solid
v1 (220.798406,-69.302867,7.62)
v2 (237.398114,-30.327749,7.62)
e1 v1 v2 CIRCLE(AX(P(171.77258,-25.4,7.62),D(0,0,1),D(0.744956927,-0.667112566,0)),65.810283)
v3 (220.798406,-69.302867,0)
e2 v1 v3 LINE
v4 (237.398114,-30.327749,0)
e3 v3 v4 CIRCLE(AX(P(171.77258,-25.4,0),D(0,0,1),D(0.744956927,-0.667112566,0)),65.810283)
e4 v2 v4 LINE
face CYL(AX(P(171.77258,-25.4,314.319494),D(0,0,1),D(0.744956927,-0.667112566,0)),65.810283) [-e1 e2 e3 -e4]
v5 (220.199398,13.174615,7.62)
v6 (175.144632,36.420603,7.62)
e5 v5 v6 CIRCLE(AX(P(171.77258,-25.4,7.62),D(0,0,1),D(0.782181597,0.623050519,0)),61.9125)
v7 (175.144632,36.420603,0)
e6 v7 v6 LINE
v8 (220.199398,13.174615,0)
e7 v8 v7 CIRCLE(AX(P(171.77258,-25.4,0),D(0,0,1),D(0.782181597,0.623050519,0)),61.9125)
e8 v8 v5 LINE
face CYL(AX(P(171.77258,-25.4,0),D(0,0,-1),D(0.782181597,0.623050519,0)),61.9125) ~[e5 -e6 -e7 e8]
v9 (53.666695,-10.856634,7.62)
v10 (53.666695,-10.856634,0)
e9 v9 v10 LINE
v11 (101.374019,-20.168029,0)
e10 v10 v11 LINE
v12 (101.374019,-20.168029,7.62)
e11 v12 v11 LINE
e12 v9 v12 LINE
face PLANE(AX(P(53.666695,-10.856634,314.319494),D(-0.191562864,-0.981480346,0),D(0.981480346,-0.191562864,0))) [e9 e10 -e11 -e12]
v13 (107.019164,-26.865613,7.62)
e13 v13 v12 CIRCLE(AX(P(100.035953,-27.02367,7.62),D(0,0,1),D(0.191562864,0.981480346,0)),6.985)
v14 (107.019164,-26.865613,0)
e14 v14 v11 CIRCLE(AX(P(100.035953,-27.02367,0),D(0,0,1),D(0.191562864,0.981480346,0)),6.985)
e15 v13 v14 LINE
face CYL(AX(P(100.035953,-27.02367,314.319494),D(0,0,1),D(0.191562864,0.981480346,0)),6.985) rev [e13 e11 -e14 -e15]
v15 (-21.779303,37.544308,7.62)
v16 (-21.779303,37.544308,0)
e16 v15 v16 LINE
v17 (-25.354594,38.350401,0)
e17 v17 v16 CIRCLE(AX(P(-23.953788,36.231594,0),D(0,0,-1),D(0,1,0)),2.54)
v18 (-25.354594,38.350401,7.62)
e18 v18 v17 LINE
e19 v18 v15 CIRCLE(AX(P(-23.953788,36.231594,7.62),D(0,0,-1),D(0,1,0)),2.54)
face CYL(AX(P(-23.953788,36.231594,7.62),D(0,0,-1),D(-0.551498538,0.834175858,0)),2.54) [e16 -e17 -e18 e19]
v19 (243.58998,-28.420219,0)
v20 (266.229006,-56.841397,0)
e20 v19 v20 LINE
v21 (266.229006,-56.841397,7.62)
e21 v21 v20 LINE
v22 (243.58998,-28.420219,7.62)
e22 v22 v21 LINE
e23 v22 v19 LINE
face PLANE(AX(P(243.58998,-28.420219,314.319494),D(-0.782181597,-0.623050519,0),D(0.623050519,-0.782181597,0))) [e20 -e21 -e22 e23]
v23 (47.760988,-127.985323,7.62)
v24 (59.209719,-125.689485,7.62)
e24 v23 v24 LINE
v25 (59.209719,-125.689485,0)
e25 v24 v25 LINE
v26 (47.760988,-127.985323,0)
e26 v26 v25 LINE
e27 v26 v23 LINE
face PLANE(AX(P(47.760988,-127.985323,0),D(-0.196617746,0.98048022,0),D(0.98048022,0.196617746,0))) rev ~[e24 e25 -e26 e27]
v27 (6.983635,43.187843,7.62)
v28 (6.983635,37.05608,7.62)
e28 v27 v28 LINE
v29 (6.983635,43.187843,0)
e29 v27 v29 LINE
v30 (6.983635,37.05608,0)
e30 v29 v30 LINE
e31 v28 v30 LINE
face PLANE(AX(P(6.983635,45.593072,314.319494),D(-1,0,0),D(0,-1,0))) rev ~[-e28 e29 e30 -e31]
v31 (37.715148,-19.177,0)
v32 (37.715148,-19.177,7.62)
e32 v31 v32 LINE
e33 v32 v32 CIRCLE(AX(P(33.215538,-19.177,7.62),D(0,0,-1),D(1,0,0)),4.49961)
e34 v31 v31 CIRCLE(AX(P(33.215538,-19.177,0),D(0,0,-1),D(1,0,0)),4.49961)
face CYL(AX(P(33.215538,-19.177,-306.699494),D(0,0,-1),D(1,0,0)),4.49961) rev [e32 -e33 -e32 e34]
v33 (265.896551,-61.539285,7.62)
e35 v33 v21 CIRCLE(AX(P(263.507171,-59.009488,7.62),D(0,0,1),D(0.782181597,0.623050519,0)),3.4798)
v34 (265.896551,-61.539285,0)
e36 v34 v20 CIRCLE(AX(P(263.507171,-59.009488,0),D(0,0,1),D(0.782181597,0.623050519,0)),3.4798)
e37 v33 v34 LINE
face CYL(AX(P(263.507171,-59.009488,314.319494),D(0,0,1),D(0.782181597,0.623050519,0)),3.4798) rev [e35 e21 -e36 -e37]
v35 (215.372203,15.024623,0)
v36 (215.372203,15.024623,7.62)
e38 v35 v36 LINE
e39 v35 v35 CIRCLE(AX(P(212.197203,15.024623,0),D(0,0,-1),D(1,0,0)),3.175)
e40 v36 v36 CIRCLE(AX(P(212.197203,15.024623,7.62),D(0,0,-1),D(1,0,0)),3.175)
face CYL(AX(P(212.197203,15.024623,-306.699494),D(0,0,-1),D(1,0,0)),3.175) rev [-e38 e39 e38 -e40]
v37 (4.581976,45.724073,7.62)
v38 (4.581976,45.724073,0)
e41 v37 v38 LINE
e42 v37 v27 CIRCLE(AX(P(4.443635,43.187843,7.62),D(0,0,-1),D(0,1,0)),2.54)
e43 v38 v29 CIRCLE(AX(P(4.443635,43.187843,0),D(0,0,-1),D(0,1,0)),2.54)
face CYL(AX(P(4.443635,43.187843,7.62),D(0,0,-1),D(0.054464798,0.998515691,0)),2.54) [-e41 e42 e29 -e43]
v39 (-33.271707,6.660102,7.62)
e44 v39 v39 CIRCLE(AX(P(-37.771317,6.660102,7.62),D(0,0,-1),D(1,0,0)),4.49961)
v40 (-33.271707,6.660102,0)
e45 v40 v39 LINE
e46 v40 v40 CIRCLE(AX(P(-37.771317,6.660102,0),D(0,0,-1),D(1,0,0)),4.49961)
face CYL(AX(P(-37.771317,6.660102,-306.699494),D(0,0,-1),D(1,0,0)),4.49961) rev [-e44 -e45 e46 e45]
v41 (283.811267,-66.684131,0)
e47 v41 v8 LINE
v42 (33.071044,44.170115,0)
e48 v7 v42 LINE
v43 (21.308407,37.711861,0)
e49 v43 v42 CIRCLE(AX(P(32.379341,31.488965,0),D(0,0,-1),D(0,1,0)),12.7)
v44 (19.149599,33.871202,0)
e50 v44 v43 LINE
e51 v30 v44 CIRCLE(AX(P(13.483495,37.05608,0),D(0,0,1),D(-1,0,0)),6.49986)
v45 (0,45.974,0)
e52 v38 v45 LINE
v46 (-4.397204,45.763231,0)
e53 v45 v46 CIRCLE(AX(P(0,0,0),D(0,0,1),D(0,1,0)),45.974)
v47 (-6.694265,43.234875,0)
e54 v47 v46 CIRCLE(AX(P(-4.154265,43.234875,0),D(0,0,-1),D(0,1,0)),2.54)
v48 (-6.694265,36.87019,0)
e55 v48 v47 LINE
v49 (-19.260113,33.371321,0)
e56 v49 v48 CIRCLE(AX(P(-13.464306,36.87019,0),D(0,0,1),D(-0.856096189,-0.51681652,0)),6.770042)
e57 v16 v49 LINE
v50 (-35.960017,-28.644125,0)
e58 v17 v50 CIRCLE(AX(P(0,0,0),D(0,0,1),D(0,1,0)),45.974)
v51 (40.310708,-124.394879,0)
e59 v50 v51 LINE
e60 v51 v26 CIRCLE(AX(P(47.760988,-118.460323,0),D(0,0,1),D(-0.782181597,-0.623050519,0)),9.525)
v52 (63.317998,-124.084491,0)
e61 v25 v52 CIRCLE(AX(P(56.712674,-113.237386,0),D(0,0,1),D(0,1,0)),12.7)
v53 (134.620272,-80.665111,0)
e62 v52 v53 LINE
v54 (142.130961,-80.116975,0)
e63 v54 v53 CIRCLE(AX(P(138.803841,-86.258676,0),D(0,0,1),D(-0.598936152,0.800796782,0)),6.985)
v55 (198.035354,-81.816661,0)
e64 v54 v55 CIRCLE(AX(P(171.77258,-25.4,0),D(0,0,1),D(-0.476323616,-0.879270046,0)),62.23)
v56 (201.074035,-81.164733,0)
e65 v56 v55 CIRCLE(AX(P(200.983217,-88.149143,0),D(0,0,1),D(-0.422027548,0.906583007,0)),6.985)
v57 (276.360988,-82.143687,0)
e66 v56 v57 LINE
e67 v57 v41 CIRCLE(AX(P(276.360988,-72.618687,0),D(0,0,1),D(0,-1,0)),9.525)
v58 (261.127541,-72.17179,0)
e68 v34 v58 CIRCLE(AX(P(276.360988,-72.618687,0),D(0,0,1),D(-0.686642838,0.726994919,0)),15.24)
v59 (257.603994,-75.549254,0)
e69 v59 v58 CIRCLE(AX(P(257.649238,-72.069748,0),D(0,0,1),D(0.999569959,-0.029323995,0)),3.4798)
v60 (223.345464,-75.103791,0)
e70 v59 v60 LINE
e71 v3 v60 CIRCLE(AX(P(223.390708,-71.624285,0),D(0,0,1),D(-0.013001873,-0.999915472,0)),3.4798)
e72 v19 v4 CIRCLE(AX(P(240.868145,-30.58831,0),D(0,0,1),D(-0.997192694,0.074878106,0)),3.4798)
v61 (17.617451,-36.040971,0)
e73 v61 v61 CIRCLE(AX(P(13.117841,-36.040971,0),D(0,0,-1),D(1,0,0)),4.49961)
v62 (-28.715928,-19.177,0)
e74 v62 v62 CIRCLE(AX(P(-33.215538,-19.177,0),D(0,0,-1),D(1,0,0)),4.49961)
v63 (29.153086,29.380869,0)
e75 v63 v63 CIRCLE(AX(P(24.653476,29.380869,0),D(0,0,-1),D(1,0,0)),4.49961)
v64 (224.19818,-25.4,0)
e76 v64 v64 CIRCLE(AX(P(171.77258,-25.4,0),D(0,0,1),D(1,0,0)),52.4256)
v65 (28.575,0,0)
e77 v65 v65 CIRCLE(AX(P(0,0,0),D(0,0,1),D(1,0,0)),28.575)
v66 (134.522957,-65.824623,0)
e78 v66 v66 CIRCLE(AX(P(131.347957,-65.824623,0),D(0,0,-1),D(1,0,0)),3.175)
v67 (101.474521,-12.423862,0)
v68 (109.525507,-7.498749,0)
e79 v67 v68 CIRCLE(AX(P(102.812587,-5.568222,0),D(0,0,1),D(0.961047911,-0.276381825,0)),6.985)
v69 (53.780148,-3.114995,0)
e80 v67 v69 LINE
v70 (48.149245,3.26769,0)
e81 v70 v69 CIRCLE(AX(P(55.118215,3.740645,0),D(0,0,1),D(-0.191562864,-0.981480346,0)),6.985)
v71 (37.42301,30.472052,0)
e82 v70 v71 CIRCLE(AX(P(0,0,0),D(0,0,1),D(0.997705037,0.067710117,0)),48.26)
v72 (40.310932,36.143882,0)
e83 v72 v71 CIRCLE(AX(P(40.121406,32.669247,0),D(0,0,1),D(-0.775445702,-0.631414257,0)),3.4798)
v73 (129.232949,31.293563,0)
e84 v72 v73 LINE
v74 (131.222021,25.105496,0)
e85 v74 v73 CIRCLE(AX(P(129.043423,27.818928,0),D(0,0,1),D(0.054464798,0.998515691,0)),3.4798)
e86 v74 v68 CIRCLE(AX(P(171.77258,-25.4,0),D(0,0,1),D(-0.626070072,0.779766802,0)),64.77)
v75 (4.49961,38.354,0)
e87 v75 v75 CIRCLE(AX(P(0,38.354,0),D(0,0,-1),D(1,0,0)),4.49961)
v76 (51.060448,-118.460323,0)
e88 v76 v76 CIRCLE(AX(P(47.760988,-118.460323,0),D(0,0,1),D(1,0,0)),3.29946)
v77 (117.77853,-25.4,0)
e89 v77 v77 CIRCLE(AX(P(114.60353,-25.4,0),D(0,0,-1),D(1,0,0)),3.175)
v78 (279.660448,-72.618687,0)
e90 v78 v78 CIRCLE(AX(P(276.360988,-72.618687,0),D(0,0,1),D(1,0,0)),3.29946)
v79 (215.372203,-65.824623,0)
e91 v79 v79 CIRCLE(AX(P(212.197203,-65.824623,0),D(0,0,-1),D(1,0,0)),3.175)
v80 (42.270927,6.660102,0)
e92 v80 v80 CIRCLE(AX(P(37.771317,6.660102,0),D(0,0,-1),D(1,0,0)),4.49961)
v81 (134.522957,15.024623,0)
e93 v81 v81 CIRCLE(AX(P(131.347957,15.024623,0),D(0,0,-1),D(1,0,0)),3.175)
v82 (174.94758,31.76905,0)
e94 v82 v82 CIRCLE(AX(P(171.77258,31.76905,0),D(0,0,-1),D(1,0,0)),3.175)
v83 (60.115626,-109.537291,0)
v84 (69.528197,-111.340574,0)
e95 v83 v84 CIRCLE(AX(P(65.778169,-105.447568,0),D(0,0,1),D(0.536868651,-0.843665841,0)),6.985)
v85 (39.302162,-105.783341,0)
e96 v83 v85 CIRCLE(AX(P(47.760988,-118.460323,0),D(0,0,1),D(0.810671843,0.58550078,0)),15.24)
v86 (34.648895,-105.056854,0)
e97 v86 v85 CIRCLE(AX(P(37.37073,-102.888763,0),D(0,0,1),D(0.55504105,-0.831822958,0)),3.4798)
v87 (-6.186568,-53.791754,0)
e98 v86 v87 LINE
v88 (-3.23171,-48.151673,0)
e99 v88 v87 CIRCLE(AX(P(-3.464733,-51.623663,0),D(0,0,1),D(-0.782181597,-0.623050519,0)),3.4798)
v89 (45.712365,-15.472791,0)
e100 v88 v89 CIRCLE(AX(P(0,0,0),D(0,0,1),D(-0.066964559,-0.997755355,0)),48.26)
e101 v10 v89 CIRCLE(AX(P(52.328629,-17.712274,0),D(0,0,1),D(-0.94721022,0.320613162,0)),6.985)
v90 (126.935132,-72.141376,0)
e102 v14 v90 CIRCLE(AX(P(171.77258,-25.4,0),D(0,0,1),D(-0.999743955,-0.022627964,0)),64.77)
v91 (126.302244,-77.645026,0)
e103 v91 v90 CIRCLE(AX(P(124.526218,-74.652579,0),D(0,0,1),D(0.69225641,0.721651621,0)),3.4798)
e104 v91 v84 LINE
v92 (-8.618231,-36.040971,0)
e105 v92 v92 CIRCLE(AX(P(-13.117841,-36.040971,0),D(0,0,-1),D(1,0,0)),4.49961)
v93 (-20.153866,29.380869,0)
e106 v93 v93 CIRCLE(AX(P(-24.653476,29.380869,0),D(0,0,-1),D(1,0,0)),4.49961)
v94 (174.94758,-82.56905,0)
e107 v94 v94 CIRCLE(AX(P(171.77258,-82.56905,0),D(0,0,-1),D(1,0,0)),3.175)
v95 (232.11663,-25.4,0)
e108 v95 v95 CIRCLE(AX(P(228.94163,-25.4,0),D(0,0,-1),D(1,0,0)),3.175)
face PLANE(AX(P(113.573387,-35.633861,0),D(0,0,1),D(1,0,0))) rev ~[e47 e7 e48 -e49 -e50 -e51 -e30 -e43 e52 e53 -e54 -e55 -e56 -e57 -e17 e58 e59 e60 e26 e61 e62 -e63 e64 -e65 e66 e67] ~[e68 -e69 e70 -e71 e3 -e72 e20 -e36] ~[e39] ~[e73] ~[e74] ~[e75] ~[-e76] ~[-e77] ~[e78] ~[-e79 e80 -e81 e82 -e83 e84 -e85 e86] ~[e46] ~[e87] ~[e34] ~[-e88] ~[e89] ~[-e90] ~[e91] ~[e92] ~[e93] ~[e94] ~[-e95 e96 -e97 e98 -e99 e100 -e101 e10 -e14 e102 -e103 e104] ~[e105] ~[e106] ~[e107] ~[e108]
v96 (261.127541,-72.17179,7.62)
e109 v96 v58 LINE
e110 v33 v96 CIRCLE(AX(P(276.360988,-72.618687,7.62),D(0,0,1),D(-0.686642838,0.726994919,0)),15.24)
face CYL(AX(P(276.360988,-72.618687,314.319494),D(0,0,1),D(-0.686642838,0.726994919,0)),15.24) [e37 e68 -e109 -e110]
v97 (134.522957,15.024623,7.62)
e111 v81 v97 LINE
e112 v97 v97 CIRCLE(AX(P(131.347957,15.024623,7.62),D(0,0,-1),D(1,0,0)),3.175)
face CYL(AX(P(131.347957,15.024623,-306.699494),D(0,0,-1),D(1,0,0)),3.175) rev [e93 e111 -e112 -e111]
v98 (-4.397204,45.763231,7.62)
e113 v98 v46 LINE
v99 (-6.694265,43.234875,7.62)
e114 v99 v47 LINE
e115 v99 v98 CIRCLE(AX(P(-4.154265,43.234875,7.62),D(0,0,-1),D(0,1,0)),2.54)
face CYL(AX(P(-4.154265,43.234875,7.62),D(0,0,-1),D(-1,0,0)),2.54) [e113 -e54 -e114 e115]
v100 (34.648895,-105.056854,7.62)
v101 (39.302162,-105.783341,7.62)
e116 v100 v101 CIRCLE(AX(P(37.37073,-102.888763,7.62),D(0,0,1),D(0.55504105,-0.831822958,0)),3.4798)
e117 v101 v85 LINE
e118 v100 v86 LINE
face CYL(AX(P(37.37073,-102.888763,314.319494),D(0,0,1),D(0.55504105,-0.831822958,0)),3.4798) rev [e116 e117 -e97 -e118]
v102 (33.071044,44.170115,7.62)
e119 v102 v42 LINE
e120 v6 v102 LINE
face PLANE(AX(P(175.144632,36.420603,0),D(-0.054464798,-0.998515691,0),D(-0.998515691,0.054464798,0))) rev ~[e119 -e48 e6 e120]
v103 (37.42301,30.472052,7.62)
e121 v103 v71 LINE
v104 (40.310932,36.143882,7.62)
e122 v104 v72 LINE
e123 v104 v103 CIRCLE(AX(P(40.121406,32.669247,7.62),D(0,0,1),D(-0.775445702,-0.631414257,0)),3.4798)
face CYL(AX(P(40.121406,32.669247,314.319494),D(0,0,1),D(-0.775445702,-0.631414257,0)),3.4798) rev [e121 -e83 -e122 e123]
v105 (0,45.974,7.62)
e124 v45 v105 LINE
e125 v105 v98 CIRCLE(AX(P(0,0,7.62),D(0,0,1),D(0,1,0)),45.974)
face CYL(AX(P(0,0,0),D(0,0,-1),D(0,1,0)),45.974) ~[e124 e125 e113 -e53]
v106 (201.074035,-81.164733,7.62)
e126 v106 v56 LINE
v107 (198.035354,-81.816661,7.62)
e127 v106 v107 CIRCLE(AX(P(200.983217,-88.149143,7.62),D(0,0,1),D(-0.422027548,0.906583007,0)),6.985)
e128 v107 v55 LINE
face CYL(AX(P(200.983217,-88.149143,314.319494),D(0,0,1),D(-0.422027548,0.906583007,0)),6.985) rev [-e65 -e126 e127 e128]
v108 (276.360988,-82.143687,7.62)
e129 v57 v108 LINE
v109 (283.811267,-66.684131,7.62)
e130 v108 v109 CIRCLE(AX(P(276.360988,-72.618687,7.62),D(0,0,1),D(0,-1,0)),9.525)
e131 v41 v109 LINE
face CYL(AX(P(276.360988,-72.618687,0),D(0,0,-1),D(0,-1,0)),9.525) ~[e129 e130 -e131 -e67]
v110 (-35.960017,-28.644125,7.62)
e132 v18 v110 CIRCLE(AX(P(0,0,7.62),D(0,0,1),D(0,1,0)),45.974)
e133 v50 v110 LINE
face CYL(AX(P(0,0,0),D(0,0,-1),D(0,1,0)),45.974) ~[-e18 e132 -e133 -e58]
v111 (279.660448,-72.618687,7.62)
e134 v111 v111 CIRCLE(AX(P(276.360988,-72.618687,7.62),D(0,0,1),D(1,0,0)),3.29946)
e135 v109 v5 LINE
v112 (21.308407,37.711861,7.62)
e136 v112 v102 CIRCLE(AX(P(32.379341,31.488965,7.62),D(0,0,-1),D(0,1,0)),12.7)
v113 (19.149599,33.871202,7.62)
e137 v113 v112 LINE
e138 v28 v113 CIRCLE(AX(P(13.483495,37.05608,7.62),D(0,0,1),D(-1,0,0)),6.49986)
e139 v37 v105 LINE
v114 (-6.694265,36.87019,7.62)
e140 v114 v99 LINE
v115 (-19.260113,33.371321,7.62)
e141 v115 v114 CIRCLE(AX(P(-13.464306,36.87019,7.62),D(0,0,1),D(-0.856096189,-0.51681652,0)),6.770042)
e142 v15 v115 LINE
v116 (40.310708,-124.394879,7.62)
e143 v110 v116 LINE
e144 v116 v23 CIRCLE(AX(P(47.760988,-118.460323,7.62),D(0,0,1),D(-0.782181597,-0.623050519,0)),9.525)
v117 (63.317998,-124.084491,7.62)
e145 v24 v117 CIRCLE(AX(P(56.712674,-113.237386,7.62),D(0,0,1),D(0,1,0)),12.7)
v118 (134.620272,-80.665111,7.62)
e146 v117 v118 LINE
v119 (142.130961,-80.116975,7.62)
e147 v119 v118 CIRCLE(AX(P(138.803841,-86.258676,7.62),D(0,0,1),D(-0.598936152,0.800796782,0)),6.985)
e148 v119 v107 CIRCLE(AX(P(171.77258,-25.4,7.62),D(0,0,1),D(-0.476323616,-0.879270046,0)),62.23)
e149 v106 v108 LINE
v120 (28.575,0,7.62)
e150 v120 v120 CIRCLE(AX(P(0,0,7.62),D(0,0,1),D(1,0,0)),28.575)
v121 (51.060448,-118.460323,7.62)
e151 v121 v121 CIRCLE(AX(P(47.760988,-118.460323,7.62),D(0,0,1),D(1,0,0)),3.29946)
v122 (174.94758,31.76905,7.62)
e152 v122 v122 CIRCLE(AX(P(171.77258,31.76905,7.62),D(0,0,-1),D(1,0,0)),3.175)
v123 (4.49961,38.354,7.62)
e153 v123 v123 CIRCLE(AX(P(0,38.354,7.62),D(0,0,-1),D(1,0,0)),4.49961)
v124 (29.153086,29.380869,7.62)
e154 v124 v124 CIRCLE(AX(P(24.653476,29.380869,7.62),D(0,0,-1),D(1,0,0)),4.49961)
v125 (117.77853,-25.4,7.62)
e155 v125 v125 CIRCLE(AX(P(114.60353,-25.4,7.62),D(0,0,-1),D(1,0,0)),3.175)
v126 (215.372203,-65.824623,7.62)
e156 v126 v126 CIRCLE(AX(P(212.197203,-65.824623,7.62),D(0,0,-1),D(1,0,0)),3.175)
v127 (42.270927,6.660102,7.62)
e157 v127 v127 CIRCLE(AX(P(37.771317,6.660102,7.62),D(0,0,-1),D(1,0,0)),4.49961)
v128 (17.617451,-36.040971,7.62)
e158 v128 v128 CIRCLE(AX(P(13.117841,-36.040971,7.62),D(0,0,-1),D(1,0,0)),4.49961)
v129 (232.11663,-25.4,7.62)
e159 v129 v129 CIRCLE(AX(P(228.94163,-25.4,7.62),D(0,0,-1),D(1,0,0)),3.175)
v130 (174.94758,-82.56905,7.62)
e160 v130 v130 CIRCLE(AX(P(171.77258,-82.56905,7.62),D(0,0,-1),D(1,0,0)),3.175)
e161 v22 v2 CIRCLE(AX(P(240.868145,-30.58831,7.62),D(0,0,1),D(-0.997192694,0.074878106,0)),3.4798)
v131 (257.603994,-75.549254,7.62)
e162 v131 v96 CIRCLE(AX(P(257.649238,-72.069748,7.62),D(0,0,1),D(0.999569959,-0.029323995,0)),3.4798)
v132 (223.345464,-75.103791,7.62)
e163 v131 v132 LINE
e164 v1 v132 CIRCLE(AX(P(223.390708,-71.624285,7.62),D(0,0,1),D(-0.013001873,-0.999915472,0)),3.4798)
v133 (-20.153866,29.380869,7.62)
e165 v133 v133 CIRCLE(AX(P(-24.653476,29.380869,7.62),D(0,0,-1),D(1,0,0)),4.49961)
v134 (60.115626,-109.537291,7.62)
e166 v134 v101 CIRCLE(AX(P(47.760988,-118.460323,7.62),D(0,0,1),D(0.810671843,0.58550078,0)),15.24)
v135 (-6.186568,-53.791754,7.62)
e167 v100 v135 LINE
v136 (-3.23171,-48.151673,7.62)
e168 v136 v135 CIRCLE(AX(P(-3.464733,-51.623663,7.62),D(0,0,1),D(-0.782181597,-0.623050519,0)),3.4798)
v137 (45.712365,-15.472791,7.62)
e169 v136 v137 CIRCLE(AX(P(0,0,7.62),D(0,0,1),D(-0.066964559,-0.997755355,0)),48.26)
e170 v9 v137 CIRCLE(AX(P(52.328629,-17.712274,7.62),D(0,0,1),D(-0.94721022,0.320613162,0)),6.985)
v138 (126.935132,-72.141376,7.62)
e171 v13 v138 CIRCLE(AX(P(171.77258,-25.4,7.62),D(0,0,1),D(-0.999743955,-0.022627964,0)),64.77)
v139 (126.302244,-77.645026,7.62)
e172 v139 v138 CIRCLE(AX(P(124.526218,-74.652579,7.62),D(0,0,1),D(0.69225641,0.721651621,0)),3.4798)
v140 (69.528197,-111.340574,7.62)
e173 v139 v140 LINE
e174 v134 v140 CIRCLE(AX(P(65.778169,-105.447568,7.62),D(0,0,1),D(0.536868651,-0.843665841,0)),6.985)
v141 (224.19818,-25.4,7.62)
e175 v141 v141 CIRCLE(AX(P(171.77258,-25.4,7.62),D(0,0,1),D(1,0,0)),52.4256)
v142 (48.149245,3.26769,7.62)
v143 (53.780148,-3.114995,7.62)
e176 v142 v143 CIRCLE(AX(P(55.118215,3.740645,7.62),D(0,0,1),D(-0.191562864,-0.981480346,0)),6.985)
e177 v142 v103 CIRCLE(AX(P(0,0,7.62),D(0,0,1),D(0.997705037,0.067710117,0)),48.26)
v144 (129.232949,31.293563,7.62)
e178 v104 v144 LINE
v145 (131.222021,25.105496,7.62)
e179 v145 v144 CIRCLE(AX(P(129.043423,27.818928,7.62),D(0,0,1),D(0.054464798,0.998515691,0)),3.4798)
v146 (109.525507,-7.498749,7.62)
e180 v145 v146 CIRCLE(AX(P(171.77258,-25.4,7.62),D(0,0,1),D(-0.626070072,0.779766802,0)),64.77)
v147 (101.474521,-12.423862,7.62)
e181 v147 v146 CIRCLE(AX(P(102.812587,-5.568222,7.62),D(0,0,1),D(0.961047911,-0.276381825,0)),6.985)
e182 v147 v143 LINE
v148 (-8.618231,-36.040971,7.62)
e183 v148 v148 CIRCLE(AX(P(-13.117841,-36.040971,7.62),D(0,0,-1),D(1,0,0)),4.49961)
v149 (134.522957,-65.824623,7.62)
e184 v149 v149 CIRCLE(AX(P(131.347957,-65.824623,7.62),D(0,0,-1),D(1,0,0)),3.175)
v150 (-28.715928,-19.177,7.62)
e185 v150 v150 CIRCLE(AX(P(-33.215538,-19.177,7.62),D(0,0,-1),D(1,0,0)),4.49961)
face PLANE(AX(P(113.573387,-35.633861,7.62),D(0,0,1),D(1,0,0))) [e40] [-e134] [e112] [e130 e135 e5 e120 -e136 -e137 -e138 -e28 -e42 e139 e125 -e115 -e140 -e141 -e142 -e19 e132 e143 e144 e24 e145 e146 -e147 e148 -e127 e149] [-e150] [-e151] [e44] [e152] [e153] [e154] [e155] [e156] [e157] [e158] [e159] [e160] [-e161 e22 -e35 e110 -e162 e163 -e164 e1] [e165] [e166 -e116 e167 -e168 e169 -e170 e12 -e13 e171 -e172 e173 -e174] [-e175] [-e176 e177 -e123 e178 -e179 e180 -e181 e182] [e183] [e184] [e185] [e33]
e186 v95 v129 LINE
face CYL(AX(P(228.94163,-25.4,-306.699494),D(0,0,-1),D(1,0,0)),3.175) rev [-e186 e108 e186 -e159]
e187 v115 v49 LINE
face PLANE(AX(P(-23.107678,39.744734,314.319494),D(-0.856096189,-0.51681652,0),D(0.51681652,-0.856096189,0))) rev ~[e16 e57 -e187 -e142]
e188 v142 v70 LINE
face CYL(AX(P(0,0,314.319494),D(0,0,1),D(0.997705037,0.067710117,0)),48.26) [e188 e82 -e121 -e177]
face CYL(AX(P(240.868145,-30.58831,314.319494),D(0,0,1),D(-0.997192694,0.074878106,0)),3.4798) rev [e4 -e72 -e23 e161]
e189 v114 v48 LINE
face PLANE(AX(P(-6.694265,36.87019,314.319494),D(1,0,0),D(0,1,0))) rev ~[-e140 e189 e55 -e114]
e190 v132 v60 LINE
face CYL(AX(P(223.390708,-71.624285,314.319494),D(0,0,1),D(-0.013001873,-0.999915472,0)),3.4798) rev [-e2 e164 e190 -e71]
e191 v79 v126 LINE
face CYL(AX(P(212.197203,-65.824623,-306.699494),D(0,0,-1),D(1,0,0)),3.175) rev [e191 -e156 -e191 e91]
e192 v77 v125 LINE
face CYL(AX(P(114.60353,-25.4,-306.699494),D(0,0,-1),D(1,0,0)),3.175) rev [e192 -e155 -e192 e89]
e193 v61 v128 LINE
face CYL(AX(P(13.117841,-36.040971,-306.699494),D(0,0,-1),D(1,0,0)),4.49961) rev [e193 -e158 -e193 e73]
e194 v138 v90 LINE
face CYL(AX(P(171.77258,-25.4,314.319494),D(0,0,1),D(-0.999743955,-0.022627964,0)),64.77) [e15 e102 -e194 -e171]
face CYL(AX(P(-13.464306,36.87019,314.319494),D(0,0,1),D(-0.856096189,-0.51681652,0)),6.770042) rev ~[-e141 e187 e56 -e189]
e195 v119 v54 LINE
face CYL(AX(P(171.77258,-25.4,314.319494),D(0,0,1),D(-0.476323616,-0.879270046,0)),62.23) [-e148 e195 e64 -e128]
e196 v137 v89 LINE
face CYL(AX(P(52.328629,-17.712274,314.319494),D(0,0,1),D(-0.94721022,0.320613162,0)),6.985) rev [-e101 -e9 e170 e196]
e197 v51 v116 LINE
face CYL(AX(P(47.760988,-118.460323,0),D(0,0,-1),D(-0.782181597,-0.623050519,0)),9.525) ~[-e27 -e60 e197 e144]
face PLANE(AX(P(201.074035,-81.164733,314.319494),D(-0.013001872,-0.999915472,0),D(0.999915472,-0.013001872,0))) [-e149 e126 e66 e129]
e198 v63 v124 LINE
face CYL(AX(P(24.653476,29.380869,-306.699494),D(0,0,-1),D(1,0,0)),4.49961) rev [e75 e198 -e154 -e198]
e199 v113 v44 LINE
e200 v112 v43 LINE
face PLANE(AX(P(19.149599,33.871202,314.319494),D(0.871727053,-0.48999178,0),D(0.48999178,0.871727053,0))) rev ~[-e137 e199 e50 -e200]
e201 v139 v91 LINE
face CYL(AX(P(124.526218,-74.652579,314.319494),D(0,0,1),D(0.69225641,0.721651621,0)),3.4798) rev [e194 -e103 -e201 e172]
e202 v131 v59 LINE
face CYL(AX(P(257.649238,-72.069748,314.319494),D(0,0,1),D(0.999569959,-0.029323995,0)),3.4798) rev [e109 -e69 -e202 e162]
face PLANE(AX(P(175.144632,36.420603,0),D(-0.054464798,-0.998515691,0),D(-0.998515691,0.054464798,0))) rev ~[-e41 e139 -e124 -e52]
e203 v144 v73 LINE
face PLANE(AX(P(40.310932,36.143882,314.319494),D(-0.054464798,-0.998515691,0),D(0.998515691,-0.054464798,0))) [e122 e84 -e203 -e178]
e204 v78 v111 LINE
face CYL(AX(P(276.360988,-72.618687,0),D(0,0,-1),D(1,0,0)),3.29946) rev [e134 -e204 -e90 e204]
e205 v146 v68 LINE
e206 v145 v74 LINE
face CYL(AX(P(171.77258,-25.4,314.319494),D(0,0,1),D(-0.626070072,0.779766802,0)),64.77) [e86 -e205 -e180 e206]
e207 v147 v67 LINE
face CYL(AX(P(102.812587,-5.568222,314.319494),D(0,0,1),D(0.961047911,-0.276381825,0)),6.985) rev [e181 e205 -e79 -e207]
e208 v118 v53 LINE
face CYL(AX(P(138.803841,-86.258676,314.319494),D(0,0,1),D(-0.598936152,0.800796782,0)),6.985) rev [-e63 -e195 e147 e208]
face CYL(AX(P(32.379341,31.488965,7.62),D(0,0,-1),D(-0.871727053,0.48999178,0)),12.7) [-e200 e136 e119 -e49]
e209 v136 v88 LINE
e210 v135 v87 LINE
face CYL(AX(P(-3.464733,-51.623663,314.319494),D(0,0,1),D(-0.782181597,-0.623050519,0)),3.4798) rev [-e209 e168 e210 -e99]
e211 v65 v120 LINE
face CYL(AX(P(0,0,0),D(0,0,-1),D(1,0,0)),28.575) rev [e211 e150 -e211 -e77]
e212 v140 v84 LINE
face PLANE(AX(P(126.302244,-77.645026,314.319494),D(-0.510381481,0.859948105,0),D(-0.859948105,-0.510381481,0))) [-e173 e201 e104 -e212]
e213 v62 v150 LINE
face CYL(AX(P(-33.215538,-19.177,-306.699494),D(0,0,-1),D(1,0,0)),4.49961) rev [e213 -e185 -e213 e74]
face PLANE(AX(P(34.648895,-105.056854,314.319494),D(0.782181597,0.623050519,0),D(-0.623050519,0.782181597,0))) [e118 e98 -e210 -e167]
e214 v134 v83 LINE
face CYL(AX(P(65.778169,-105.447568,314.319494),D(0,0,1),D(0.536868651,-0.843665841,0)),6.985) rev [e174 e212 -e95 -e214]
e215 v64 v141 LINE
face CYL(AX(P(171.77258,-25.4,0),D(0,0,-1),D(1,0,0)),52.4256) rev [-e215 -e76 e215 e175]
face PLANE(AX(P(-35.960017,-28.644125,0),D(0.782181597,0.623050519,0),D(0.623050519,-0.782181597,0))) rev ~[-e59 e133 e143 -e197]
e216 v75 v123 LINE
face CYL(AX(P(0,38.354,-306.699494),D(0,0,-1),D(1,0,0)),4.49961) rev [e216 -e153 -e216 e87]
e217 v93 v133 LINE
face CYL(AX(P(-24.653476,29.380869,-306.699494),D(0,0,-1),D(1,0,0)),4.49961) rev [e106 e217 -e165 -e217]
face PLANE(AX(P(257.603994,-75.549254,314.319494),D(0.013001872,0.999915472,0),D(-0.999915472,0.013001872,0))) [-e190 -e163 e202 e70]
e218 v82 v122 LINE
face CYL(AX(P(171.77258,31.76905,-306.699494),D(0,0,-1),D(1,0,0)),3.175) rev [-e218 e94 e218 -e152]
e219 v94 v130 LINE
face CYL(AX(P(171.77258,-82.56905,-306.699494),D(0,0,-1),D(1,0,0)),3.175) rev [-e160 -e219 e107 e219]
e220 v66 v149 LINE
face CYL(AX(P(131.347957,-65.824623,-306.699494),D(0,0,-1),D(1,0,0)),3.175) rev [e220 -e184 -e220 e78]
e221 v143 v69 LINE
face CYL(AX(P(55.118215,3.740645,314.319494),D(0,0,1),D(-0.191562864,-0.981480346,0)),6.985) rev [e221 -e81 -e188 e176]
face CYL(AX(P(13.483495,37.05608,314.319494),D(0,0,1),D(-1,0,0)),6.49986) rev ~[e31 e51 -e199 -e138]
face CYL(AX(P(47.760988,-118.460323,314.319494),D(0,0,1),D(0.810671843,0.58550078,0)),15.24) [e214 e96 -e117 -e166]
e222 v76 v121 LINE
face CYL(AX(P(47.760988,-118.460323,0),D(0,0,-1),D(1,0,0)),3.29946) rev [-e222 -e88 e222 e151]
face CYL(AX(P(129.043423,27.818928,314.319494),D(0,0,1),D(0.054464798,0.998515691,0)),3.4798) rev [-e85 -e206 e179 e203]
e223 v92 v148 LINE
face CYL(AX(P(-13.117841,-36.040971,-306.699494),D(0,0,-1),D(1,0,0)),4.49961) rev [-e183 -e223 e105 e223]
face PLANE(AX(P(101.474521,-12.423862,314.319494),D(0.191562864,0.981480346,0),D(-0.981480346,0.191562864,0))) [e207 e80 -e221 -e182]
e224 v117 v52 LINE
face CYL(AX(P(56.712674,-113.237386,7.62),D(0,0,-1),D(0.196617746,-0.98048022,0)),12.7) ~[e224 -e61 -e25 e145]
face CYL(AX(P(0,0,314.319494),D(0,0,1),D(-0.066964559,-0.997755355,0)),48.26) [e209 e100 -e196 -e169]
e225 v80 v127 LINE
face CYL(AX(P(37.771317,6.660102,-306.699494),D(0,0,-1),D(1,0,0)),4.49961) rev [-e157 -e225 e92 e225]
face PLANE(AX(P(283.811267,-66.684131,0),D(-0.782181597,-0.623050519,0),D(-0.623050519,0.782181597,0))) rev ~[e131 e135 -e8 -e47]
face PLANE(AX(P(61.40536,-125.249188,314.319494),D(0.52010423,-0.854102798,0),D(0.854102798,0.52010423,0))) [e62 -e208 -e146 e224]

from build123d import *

# Parameters (mm, degrees)
SKETCH1_R               = 3.29946
SKETCH1_R_2             = 28.575
SKETCH1_R_3             = 52.4256
BOSS_EXTRUDE1_DEPTH     = 7.62
CUT_EXTRUDE1_DEPTH      = 314.319493614
CUT_EXTRUDE1_DEPTH_BACK = 314.319493614
SKETCH2_R               = 4.49961
SKETCH2_R_2             = 3.175
CUT_EXTRUDE2_DEPTH      = 314.319493614
CUT_EXTRUDE2_DEPTH_BACK = 314.319493614
FILLET2_R               = 12.7
CUT_EXTRUDE3_DEPTH      = 314.319493614
CUT_EXTRUDE3_DEPTH_BACK = 314.319493614
FILLET3_R               = 2.54
FILLET4_R               = 12.7


with BuildPart() as part:
    # Sketch1 → Boss-Extrude1 (new body)
    with BuildSketch(Plane.XY):
        with BuildLine():
            ThreePointArc((40.310707788, -124.394878894), (43.625834707, -127.040890072), (47.760987503, -127.985322704))
            Line((47.760987503, -127.985322704), (276.360987503, -82.143687357))
            ThreePointArc((276.360987503, -82.143687357), (284.941554871, -76.753840153), (283.811267218, -66.684131167))
            Line((283.811267218, -66.684131167), (220.199398147, 13.174615234))
            ThreePointArc((220.199398147, 13.174615234), (200.160512587, 29.620750083), (175.144631834, 36.420602736))
            Line((175.144631834, 36.420602736), (0, 45.974))
            ThreePointArc((0, 45.974), (-41.415538495, 19.959004162), (-35.960016757, -28.644124543))
            Line((-35.960016757, -28.644124543), (40.310707788, -124.394878894))
        make_face()
        with Locations((47.760987503, -118.460322704)):
            Circle(SKETCH1_R, mode=Mode.SUBTRACT)
        with Locations((276.360987503, -72.618687357)):
            Circle(SKETCH1_R, mode=Mode.SUBTRACT)
        Circle(SKETCH1_R_2, mode=Mode.SUBTRACT)
        with Locations((171.77258, -25.4)):
            Circle(SKETCH1_R_3, mode=Mode.SUBTRACT)
    extrude(amount=BOSS_EXTRUDE1_DEPTH)

    # Sketch2 → Cut-Extrude1 (cut, two sides: drawn at the far end of the back side and taken through both)
    with BuildSketch(Plane.XY.offset(7.62).offset(-CUT_EXTRUDE1_DEPTH_BACK)):
        with Locations((0, 38.354)):
            Circle(SKETCH2_R)
        with Locations((171.77258, 31.76905)):
            Circle(SKETCH2_R_2)
        with Locations((24.653475982, 29.380868571)):
            Circle(SKETCH2_R)
        with Locations((37.771316559, 6.660102206)):
            Circle(SKETCH2_R)
        with Locations((33.215538337, -19.177)):
            Circle(SKETCH2_R)
        with Locations((13.117840577, -36.040970778)):
            Circle(SKETCH2_R)
        with Locations((-13.117840577, -36.040970778)):
            Circle(SKETCH2_R)
        with Locations((-33.215538337, -19.177)):
            Circle(SKETCH2_R)
        with Locations((-37.771316559, 6.660102206)):
            Circle(SKETCH2_R)
        with Locations((-24.653475982, 29.380868571)):
            Circle(SKETCH2_R)
        with Locations((212.197202929, 15.024622929)):
            Circle(SKETCH2_R_2)
        with Locations((228.94163, -25.4)):
            Circle(SKETCH2_R_2)
        with Locations((212.197202929, -65.824622929)):
            Circle(SKETCH2_R_2)
        with Locations((171.77258, -82.56905)):
            Circle(SKETCH2_R_2)
        with Locations((131.347957071, -65.824622929)):
            Circle(SKETCH2_R_2)
        with Locations((114.60353, -25.4)):
            Circle(SKETCH2_R_2)
        with Locations((131.347957071, 15.024622929)):
            Circle(SKETCH2_R_2)
    extrude(amount=CUT_EXTRUDE1_DEPTH + CUT_EXTRUDE1_DEPTH_BACK, mode=Mode.SUBTRACT)

    # Sketch5 → Cut-Extrude2 (cut, two sides: drawn at the far end of the back side and taken through both)
    with BuildSketch(Plane(origin=(0, 0, 0), x_dir=(-1, 0, 0), z_dir=(0, 0, -1)).offset(-CUT_EXTRUDE2_DEPTH_BACK)):
        with BuildLine():
            Line((-243.589980451, -28.420218982), (-266.229006424, -56.84139667))
            ThreePointArc((-266.229006424, -56.84139667), (-266.978290112, -59.255128799), (-265.89655065, -61.539284785))
            ThreePointArc((-265.89655065, -61.539284785), (-262.4556706, -66.381719999), (-261.127541325, -72.171789682))
            ThreePointArc((-261.127541325, -72.171789682), (-260.057201806, -74.581862154), (-257.603993865, -75.549253906))
            Line((-257.603993865, -75.549253906), (-223.345463701, -75.103791216))
            ThreePointArc((-223.345463701, -75.103791216), (-220.204512197, -73.023273129), (-220.7984065, -69.302867047))
            ThreePointArc((-220.7984065, -69.302867047), (-232.320070073, -51.187493962), (-237.398113791, -30.327749345))
            ThreePointArc((-237.398113791, -30.327749345), (-239.843636661, -27.262743932), (-243.589980451, -28.420218982))
        make_face()
        with BuildLine():
            Line((-40.310932114, 36.143882278), (-129.2329494, 31.293563157))
            ThreePointArc((-129.2329494, 31.293563157), (-132.356283928, 28.883803437), (-131.222021432, 25.105495738))
            ThreePointArc((-131.222021432, 25.105495738), (-117.850437324, 10.482522615), (-109.525506814, -7.498749212))
            ThreePointArc((-109.525506814, -7.498749212), (-106.457644943, -11.526726906), (-101.474520552, -12.423862382))
            Line((-101.474520552, -12.423862382), (-53.780148142, -3.1149948))
            ThreePointArc((-53.780148142, -3.1149948), (-49.880239941, -0.880376651), (-48.149245066, 3.267690247))
            ThreePointArc((-48.149245066, 3.267690247), (-44.896236095, 17.701852573), (-37.423009556, 30.472052043))
            ThreePointArc((-37.423009556, 30.472052043), (-37.020434548, 34.248166986), (-40.310932114, 36.143882278))
        make_face()
        with BuildLine():
            ThreePointArc((-39.302161905, -105.783340827), (-36.833952554, -106.326913666), (-34.648894538, -105.056854494))
            Line((-34.648894538, -105.056854494), (6.186568412, -53.791753696))
            ThreePointArc((6.186568412, -53.791753696), (6.547130169, -50.008783233), (3.231709617, -48.151673418))
            ThreePointArc((3.231709617, -48.151673418), (-26.797926427, -40.13600303), (-45.712365207, -15.472791189))
            ThreePointArc((-45.712365207, -15.472791189), (-48.822624125, -11.670903611), (-53.666695197, -10.856633909))
            Line((-53.666695197, -10.856633909), (-101.374019125, -20.168029335))
            ThreePointArc((-101.374019125, -20.168029335), (-105.376863014, -22.522014289), (-107.019164045, -26.865613222))
            ThreePointArc((-107.019164045, -26.865613222), (-112.485034835, -51.479491719), (-126.935132299, -72.141375501))
            ThreePointArc((-126.935132299, -72.141375501), (-127.983236253, -75.050116103), (-126.302243919, -77.645026229))
            Line((-126.302243919, -77.645026229), (-69.528196733, -111.340573769))
            ThreePointArc((-69.528196733, -111.340573769), (-64.463868617, -112.307803939), (-60.115626386, -109.537290816))
            ThreePointArc((-60.115626386, -109.537290816), (-50.466052275, -103.462315351), (-39.302161905, -105.783340827))
        make_face()
        with BuildLine():
            Line((-276.360987503, -82.143687357), (-61.405360183, -125.24918816))
            Line((-61.405360183, -125.24918816), (-134.620271919, -80.665110684))
            ThreePointArc((-134.620271919, -80.665110684), (-138.295422572, -79.292203946), (-142.130961394, -80.116974938))
            ThreePointArc((-142.130961394, -80.116974938), (-169.881448075, -87.601258187), (-198.035354318, -81.816660528))
            ThreePointArc((-198.035354318, -81.816660528), (-199.517976868, -81.319553012), (-201.07403482, -81.164733259))
            Line((-201.07403482, -81.164733259), (-276.360987503, -82.143687357))
        make_face()
    extrude(amount=CUT_EXTRUDE2_DEPTH + CUT_EXTRUDE2_DEPTH_BACK, mode=Mode.SUBTRACT)

    # Fillet2
    fillet2_edges = [part.edges().sort_by_distance(p)[0] for p in [
        (61.405360183, -125.24918816, 3.81),
    ]]
    fillet(fillet2_edges, radius=FILLET2_R)

    # Sketch6 → Cut-Extrude3 (cut, two sides: drawn at the far end of the back side and taken through both)
    with BuildSketch(Plane(origin=(0, 0, 0), x_dir=(-1, 0, 0), z_dir=(0, 0, -1)).offset(-CUT_EXTRUDE3_DEPTH_BACK)):
        with BuildLine():
            Line((-19.149599026, 33.871202127), (-25.180470346, 44.600512078))
            Line((-25.180470346, 44.600512078), (-6.983635222, 45.593072301))
            Line((-6.983635222, 45.593072301), (-6.983635222, 37.0560801))
            ThreePointArc((-6.983635222, 37.0560801), (-11.837393988, 30.76811296), (-19.149599026, 33.871202127))
        make_face()
        with BuildLine():
            Line((6.694264778, 36.870190043), (6.694264778, 45.484013621))
            ThreePointArc((6.694264778, 45.484013621), (15.174774423, 43.397406572), (23.107677895, 39.744734221))
            Line((23.107677895, 39.744734221), (19.260113276, 33.371320679))
            ThreePointArc((19.260113276, 33.371320679), (11.648320448, 30.348253304), (6.694264778, 36.870190043))
        make_face()
    extrude(amount=CUT_EXTRUDE3_DEPTH + CUT_EXTRUDE3_DEPTH_BACK, mode=Mode.SUBTRACT)

    # Fillet3
    fillet3_edges = [part.edges().sort_by_distance(p)[0] for p in [
        (-6.694264778, 45.484013621, 3.81),
        (6.983635222, 45.593072301, 3.81),
        (-23.107677895, 39.744734221, 3.81),
    ]]
    fillet(fillet3_edges, radius=FILLET3_R)

    # Fillet4
    fillet4_edges = [part.edges().sort_by_distance(p)[0] for p in [
        (25.180470346, 44.600512078, 3.81),
    ]]
    fillet(fillet4_edges, radius=FILLET4_R)


solid = part.part
